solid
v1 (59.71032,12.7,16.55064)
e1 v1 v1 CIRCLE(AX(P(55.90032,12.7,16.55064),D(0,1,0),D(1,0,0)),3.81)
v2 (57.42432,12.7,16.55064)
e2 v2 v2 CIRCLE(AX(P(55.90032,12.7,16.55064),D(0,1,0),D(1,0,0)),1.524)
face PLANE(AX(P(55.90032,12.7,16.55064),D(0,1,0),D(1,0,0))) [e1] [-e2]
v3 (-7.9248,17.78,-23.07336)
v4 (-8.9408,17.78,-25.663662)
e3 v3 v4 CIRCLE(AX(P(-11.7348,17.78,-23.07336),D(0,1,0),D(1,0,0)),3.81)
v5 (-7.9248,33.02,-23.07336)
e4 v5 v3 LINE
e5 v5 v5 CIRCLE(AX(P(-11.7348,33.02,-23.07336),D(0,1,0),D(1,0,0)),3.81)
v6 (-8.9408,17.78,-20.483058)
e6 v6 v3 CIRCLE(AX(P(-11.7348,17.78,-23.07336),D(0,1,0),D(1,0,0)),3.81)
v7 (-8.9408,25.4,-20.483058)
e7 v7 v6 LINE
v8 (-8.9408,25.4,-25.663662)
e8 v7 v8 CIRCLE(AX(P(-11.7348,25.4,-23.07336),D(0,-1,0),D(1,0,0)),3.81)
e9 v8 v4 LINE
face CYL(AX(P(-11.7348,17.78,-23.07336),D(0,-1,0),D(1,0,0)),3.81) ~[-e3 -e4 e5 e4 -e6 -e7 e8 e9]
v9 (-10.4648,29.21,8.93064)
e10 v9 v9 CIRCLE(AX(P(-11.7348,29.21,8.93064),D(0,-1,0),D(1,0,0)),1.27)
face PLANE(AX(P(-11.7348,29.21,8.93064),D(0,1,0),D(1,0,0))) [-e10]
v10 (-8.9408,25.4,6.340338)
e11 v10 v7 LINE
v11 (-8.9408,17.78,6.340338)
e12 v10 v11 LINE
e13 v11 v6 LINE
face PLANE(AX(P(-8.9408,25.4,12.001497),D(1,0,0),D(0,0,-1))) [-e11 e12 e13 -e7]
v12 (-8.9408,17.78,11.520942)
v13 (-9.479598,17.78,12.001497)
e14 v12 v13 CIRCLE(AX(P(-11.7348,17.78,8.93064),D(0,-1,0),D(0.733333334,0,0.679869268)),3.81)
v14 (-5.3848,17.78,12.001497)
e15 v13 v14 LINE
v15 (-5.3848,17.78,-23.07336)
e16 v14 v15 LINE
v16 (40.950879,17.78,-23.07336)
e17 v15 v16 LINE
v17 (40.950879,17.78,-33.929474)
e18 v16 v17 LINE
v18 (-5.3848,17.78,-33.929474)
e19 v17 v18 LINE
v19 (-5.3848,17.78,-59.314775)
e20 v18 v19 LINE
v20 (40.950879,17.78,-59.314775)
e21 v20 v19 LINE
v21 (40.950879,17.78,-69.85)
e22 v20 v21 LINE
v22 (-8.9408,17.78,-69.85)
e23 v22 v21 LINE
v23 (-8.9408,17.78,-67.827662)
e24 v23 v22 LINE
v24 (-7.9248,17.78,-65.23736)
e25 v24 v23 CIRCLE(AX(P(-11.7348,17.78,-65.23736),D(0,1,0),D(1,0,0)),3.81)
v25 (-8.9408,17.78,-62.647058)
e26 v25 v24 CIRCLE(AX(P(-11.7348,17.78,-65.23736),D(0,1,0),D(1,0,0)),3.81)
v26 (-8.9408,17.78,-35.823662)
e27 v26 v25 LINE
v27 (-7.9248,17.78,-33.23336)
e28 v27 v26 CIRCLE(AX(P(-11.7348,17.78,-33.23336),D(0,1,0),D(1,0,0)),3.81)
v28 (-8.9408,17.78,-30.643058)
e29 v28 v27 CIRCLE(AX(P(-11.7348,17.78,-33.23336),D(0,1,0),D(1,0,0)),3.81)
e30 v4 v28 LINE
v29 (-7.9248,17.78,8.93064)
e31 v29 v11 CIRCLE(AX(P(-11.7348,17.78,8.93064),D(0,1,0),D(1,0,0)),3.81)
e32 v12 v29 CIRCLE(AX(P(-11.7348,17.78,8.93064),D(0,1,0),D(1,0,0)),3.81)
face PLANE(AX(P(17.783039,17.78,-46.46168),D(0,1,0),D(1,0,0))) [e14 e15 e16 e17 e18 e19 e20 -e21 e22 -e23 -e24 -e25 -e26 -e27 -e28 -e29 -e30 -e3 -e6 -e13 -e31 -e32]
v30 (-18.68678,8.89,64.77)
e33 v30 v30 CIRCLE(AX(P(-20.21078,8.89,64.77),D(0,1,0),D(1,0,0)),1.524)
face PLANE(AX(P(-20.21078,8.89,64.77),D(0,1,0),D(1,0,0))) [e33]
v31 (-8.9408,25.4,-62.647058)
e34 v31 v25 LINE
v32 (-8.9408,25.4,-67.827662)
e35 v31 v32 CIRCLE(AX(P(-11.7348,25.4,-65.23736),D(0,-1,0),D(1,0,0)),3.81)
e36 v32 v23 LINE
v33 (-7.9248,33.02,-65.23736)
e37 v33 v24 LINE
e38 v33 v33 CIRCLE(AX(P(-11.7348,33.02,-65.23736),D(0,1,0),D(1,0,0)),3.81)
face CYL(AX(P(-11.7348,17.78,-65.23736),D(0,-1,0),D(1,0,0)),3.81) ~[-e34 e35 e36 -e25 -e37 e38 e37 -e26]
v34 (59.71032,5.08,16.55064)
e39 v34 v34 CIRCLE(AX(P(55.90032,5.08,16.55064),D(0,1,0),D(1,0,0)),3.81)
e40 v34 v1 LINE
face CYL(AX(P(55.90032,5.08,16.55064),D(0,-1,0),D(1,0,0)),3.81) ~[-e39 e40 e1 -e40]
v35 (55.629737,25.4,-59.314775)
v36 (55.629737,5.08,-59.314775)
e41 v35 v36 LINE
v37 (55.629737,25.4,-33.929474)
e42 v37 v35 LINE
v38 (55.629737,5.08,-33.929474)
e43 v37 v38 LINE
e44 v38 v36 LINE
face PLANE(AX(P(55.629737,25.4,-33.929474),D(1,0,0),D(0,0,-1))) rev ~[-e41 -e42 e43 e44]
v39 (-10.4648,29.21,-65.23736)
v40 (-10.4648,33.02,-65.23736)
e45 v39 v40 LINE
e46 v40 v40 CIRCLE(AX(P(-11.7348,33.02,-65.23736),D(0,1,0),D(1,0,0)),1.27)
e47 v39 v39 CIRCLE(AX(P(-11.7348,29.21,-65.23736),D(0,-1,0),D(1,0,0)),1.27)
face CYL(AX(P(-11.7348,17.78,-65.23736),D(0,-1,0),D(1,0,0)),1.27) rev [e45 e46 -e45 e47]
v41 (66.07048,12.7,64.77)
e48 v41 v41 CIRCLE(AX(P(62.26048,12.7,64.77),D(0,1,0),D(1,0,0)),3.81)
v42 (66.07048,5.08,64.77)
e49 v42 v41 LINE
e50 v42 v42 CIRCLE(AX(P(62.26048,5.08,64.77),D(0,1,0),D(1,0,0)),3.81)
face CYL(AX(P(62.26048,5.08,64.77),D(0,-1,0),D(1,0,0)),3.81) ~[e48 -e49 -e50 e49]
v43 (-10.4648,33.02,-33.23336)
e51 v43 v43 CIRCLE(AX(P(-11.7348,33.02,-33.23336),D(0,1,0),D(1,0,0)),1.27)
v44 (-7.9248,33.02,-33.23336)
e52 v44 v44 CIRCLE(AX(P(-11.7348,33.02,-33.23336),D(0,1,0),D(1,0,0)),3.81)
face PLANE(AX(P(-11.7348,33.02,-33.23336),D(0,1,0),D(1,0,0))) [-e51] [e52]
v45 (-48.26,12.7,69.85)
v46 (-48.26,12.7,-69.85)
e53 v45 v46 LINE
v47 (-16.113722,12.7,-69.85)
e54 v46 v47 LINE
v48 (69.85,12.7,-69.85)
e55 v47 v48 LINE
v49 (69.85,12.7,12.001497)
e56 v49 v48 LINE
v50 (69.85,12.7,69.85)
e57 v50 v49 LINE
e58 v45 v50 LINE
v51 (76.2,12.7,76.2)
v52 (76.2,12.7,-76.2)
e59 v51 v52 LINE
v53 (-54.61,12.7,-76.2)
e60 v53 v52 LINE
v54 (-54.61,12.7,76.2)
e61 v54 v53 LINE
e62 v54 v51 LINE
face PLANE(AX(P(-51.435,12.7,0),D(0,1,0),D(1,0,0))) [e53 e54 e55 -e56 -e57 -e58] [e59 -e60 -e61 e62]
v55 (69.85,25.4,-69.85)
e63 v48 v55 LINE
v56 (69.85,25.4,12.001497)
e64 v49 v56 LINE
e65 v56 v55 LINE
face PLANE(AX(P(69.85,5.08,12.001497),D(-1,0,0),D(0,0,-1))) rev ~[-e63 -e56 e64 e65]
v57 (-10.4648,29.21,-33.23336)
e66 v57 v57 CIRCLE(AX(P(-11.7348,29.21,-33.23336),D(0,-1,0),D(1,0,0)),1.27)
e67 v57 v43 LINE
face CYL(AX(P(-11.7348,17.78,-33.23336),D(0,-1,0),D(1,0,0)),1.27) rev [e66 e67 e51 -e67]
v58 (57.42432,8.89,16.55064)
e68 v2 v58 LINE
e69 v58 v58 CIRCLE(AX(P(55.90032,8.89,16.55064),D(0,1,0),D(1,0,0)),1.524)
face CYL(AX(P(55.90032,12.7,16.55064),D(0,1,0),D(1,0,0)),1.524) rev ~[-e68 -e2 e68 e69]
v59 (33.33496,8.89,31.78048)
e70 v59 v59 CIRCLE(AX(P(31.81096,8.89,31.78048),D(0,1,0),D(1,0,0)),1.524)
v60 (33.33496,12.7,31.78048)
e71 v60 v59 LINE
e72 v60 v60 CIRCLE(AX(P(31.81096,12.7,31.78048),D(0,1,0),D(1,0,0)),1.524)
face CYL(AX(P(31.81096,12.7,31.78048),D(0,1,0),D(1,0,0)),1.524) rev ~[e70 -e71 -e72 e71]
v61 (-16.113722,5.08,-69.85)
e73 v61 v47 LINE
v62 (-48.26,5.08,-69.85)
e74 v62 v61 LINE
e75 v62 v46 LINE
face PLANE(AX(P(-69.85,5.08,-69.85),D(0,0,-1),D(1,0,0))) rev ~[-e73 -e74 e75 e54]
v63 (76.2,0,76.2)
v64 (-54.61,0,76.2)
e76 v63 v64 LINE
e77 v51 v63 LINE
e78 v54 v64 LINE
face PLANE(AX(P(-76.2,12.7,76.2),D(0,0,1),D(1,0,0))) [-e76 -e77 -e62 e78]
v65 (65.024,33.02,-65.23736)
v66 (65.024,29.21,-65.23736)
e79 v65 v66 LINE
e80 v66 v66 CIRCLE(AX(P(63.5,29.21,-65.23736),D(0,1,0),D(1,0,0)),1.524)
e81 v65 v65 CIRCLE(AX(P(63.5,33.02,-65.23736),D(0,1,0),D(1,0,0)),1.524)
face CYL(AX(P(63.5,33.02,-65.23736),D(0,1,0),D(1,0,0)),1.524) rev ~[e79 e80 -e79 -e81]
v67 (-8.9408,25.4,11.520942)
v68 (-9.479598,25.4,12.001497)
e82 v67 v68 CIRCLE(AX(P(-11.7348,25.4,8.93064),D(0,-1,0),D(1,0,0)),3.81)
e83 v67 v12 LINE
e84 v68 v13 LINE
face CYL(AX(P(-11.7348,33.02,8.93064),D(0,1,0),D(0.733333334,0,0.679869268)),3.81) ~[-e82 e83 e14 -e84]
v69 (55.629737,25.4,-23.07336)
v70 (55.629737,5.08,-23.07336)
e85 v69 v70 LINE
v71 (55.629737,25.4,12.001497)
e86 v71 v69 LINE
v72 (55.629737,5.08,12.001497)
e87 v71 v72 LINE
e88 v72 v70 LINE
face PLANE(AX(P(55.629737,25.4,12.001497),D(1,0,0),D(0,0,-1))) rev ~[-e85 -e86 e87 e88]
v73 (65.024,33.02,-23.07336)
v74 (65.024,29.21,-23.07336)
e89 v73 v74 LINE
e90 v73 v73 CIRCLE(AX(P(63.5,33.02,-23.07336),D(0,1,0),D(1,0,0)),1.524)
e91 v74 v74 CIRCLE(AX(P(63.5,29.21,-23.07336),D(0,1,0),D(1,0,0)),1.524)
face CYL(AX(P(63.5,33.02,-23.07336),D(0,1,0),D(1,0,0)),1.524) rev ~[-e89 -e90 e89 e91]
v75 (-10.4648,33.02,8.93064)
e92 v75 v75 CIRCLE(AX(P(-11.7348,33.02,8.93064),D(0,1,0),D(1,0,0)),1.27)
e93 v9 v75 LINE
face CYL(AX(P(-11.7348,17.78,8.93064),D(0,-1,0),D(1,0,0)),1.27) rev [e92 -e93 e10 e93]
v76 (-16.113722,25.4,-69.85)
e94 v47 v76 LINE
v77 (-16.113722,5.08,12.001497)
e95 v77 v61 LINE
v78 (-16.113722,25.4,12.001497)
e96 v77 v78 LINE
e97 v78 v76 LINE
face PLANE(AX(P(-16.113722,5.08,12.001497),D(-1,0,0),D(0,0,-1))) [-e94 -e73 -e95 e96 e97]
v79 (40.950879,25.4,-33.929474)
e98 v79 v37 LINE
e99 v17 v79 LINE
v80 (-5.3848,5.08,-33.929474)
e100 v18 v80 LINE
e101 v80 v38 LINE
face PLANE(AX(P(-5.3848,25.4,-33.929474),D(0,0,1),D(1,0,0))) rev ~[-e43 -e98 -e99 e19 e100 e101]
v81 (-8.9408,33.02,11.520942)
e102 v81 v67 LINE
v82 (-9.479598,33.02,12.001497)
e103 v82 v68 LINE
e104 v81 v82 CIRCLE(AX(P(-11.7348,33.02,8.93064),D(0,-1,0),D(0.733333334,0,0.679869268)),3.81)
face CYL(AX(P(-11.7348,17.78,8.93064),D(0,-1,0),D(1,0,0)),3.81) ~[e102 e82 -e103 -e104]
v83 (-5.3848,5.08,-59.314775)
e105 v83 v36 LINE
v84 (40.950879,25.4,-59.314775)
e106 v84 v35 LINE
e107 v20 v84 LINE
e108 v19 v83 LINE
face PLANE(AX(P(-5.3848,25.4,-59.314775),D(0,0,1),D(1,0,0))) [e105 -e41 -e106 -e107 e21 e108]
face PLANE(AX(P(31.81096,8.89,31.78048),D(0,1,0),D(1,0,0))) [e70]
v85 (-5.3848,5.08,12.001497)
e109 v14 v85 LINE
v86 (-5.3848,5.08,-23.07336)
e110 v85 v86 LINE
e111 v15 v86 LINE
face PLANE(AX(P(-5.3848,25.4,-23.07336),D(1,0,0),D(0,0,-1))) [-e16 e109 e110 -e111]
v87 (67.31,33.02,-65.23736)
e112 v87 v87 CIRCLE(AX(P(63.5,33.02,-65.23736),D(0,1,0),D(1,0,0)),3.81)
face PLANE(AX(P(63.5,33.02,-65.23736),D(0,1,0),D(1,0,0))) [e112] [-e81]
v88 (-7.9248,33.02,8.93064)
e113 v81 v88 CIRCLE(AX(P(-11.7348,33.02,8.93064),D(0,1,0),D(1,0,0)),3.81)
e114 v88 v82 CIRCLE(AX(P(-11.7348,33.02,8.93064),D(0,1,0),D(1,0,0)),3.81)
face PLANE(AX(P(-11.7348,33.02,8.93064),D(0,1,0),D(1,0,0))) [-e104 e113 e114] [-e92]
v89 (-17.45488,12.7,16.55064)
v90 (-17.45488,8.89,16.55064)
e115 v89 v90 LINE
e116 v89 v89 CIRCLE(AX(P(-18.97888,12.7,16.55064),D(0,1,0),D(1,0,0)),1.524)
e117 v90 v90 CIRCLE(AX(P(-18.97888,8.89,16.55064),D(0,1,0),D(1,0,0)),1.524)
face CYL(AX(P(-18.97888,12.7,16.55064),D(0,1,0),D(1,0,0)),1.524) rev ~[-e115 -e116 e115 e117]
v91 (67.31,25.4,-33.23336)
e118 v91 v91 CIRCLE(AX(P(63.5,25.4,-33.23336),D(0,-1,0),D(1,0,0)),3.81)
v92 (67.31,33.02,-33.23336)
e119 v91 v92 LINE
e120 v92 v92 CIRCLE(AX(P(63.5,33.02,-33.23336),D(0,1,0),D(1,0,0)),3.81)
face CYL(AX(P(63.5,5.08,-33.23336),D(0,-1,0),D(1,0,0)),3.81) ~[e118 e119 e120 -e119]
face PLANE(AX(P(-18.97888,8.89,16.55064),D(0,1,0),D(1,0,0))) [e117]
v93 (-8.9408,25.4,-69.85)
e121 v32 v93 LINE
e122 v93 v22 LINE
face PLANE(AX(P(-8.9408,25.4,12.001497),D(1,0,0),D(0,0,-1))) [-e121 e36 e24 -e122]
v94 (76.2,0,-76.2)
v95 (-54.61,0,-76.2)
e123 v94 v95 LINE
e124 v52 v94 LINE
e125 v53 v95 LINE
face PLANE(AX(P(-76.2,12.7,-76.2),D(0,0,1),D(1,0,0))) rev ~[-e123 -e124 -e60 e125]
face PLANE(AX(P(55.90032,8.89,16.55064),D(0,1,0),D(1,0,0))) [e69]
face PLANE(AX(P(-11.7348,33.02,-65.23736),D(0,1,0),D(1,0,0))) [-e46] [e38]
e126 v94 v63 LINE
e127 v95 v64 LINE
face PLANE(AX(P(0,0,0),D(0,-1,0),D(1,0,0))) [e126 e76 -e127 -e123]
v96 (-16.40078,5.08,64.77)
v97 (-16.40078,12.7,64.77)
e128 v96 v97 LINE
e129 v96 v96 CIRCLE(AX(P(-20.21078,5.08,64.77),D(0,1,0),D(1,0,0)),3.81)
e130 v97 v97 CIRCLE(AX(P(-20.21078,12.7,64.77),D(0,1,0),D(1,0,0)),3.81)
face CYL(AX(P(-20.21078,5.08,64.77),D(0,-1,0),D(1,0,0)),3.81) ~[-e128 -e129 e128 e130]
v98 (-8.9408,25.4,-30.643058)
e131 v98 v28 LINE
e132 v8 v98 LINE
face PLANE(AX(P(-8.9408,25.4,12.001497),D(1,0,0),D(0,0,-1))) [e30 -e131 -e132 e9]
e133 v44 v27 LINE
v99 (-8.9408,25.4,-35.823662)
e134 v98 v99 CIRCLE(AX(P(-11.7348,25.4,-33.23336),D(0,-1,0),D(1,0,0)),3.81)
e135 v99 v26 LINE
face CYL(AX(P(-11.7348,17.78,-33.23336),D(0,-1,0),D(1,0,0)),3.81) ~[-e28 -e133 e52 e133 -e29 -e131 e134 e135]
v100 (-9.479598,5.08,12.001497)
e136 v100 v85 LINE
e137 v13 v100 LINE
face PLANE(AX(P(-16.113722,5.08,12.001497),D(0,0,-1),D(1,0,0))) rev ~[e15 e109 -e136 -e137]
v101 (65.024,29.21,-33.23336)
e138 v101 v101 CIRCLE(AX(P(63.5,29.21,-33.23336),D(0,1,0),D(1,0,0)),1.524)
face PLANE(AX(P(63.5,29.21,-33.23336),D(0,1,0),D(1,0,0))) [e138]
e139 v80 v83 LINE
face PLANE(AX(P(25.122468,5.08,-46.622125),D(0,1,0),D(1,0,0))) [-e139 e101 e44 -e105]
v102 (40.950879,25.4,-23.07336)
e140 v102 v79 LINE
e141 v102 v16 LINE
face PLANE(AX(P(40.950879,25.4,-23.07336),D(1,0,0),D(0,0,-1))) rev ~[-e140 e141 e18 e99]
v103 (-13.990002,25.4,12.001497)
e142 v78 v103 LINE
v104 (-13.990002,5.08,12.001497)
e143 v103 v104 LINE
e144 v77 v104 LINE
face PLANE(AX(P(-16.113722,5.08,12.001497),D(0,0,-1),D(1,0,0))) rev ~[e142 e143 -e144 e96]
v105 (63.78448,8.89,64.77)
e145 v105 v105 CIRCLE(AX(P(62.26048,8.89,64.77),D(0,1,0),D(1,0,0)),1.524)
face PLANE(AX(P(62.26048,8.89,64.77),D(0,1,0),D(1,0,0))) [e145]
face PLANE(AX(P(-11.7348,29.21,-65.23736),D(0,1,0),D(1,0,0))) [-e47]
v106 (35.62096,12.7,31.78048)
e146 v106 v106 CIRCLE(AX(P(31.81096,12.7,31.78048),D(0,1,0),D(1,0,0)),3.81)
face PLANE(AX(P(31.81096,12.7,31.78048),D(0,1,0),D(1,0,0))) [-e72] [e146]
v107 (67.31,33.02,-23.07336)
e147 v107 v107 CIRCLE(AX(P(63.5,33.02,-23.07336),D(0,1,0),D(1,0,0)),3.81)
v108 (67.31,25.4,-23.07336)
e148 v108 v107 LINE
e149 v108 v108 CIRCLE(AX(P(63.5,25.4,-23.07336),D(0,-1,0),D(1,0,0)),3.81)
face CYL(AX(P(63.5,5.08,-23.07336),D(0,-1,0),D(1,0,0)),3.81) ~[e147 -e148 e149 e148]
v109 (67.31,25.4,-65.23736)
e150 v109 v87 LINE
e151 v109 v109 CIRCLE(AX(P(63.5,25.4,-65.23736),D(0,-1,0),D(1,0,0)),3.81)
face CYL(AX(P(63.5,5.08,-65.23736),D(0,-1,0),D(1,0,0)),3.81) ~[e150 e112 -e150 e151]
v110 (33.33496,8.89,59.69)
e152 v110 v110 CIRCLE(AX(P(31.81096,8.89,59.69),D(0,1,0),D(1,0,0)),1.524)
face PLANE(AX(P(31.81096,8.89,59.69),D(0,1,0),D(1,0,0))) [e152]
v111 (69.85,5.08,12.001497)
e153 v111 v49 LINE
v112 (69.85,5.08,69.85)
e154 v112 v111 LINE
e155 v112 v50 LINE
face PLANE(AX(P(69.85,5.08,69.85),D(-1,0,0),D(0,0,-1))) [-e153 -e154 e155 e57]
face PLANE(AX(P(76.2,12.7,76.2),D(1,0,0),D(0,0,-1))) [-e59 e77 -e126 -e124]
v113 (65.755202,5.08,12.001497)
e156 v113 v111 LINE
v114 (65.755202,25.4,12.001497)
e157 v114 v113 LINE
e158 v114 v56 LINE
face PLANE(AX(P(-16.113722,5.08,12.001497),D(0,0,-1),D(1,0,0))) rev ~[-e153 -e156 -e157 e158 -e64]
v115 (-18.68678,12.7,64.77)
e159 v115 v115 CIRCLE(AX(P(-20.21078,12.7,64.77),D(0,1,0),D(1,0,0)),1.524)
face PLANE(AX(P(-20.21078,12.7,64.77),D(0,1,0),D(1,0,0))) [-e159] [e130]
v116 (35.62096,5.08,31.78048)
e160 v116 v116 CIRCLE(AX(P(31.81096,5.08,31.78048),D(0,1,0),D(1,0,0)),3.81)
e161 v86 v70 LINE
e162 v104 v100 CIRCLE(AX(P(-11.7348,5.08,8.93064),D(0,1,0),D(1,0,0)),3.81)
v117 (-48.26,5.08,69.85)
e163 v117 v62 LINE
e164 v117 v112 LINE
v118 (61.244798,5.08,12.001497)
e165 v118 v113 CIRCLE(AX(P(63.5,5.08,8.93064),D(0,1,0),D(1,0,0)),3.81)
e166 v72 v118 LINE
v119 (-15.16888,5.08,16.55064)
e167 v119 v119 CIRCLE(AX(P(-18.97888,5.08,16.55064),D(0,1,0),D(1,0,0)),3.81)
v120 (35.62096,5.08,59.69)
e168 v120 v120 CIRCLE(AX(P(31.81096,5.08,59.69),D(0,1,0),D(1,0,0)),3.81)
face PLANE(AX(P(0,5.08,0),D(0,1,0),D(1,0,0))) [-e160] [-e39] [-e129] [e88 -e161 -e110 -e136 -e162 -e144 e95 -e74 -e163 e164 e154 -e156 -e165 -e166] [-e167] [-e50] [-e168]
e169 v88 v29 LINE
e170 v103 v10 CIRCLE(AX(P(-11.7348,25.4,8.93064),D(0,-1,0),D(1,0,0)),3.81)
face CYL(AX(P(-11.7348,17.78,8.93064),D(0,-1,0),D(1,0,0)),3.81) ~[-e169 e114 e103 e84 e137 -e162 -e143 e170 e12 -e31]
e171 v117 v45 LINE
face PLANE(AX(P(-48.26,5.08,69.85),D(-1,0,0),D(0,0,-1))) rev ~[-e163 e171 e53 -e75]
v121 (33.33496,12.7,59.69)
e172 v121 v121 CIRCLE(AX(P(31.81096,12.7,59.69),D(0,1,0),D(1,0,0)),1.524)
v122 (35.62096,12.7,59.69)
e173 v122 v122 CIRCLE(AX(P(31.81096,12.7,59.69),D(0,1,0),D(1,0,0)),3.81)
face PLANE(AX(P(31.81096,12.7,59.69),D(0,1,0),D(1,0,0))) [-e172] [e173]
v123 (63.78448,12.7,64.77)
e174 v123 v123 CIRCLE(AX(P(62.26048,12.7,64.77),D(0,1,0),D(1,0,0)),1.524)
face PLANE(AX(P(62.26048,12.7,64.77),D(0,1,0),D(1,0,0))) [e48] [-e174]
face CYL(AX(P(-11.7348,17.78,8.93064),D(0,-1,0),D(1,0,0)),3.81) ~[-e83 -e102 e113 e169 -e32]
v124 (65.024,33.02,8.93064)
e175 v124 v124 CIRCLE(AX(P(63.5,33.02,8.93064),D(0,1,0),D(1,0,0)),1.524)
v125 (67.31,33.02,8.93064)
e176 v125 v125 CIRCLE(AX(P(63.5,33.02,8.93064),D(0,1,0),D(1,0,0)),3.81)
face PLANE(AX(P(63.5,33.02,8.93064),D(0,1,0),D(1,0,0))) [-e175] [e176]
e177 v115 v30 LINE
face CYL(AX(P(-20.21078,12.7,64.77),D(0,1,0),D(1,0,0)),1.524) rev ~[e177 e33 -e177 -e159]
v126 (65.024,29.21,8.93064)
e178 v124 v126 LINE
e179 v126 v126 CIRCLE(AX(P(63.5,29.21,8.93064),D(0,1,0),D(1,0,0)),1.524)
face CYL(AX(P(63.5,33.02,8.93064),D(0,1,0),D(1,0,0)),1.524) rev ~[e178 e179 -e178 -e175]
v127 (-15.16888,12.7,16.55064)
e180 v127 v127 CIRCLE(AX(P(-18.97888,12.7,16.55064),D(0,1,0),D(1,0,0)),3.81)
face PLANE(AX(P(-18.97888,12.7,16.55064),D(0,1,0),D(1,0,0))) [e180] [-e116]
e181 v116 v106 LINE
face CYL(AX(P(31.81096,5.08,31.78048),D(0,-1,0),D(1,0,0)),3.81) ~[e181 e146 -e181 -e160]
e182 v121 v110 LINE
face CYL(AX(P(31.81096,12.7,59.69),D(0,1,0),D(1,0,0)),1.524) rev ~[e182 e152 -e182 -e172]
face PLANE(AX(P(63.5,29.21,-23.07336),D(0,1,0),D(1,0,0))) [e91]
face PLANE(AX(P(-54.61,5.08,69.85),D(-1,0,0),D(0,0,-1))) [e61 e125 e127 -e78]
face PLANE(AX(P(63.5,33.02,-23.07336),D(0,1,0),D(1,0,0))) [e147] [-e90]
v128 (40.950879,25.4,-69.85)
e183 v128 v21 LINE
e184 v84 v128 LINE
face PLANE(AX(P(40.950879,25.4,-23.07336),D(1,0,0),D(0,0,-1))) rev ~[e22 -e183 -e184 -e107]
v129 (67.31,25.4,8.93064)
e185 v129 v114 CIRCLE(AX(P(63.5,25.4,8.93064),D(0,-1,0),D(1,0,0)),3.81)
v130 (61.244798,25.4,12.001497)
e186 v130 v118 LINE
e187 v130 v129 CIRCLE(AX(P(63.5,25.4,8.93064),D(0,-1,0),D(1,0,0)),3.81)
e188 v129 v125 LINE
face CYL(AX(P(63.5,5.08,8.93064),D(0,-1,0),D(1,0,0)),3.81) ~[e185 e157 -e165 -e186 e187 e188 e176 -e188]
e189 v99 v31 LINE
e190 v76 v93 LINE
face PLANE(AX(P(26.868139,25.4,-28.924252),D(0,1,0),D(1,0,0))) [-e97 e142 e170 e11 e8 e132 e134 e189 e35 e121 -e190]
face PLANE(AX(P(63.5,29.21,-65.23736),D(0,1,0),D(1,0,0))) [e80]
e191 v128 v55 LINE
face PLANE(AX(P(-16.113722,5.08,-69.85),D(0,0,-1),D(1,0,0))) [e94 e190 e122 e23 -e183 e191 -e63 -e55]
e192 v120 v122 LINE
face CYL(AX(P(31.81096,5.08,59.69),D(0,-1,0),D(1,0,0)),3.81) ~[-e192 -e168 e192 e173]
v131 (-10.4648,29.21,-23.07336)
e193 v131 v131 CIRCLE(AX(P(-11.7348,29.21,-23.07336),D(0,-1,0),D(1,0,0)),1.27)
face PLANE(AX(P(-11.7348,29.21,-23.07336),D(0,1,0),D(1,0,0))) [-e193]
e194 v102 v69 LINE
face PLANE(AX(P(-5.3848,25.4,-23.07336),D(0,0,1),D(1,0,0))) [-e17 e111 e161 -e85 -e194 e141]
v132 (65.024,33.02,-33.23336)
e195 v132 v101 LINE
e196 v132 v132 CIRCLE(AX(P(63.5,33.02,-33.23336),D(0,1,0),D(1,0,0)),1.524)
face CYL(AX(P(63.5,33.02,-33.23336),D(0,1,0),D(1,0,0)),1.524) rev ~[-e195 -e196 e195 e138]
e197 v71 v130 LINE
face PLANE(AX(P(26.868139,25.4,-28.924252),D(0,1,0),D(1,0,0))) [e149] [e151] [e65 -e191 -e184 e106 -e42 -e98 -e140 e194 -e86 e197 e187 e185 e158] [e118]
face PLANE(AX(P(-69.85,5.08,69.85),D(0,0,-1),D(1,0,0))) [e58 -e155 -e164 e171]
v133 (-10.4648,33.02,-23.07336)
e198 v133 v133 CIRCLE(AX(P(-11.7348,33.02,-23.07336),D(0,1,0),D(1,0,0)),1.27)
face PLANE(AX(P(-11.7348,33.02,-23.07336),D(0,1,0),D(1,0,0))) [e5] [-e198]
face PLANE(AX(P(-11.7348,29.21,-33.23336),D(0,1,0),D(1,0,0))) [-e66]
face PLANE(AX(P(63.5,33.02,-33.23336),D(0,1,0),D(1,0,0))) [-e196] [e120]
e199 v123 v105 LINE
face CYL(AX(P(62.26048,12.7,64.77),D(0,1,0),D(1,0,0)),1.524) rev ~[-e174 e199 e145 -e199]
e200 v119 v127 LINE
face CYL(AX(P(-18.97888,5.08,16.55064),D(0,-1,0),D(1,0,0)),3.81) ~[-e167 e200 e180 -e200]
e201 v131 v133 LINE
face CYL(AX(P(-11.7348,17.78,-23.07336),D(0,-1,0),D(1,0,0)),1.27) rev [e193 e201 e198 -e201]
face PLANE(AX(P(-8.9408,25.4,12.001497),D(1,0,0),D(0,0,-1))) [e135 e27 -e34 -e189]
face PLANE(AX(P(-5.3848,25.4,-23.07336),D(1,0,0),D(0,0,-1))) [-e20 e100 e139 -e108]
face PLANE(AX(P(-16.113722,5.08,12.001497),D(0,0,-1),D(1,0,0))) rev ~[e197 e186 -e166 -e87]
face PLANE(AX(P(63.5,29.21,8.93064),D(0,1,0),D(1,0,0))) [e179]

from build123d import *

# Parameters (mm, degrees)
SKETCH1_W            = 152.4
SKETCH1_H            = 152.4
BOSS_EXTRUDE1_DEPTH  = 5.08
SKETCH6_R            = 3.81
BOSS_EXTRUDE3_DEPTH  = 7.62
SKETCH7_W            = 152.4
SKETCH7_H            = 152.4
SKETCH7_W_2          = 139.7
SKETCH7_H_2          = 139.7
BOSS_EXTRUDE4_DEPTH  = 7.62
SKETCH9_R            = 3.81
BOSS_EXTRUDE6_DEPTH  = 27.94
SKETCH11_W           = 85.963722039
SKETCH11_H           = 81.851496928
BOSS_EXTRUDE9_DEPTH  = 20.32
SKETCH12_W           = 61.01453669
SKETCH12_H           = 25.385301209
SKETCH12_H_2         = 35.074856928
CUT_EXTRUDE1_DEPTH   = 20.32
SKETCH14_W           = 46.335678953
SKETCH14_H           = 46.77664
CUT_EXTRUDE2_DEPTH   = 7.62
SKETCH15_R           = 1.524
CUT_EXTRUDE3_DEPTH   = 3.81
SKETCH16_R           = 1.524
CUT_EXTRUDE4_DEPTH   = 3.81
BOSS_EXTRUDE10_START = -12.7
SKETCH18_W           = 165.1
SKETCH18_H           = 165.1
SKETCH18_W_2         = 152.4
SKETCH18_H_2         = 152.4
BOSS_EXTRUDE10_DEPTH = 12.7
SKETCH22_W           = 195.571726543
SKETCH22_H           = 199.98311887
SKETCH22_W_2         = 152.4
SKETCH22_H_2         = 152.4
CUT_EXTRUDE5_DEPTH   = 13.7
SKETCH24_W           = 21.59
SKETCH24_H           = 152.4
CUT_EXTRUDE6_DEPTH   = 13.7
SKETCH25_W           = 6.35
SKETCH25_H           = 139.7
BOSS_EXTRUDE11_DEPTH = 7.62
SKETCH26_W           = 3.556
SKETCH26_H           = 81.851496928
CUT_EXTRUDE7_DEPTH   = 7.62
BOSS_EXTRUDE12_START = -15.24
SKETCH28_R           = 3.81
SKETCH28_R_2         = 1.27
BOSS_EXTRUDE12_DEPTH = 15.24
CUT_EXTRUDE8_DEPTH   = 15.24


with BuildPart() as part:
    # Sketch1 → Boss-Extrude1 (new body)
    with BuildSketch(Plane(origin=(0, 0, 0), x_dir=(1, 0, 0), z_dir=(0, 1, 0))):
        Rectangle(SKETCH1_W, SKETCH1_H)
    extrude(amount=BOSS_EXTRUDE1_DEPTH)

    # Sketch6 → Boss-Extrude3 (add)
    with BuildSketch(Plane(origin=(0, 5.08, 0), x_dir=(1, 0, 0), z_dir=(0, 1, 0))):
        with Locations((62.26048, -64.77)):
            Circle(SKETCH6_R)
        with Locations((-20.21078, -64.77)):
            Circle(SKETCH6_R)
        with Locations((31.81096, -59.69)):
            Circle(SKETCH6_R)
        with Locations((31.81096, -31.78048)):
            Circle(SKETCH6_R)
        with Locations((55.90032, -16.55064)):
            Circle(SKETCH6_R)
        with Locations((-18.97888, -16.55064)):
            Circle(SKETCH6_R)
    extrude(amount=BOSS_EXTRUDE3_DEPTH)

    # Sketch7 → Boss-Extrude4 (add)
    with BuildSketch(Plane(origin=(0, 5.08, 0), x_dir=(1, 0, 0), z_dir=(0, 1, 0))):
        Rectangle(SKETCH7_W, SKETCH7_H)
        Rectangle(SKETCH7_W_2, SKETCH7_H_2, mode=Mode.SUBTRACT)
    extrude(amount=BOSS_EXTRUDE4_DEPTH)

    # Sketch9 → Boss-Extrude6 (add)
    with BuildSketch(Plane(origin=(0, 5.08, 0), x_dir=(1, 0, 0), z_dir=(0, 1, 0))):
        with Locations((63.5, -8.93064)):
            Circle(SKETCH9_R)
        with Locations((-11.7348, -8.93064)):
            Circle(SKETCH9_R)
        with Locations((63.5, 23.07336)):
            Circle(SKETCH9_R)
        with Locations((-11.7348, 23.07336)):
            Circle(SKETCH9_R)
        with Locations((-11.7348, 33.23336)):
            Circle(SKETCH9_R)
        with Locations((63.5, 33.23336)):
            Circle(SKETCH9_R)
        with Locations((63.5, 65.23736)):
            Circle(SKETCH9_R)
        with Locations((-11.7348, 65.23736)):
            Circle(SKETCH9_R)
    extrude(amount=BOSS_EXTRUDE6_DEPTH)

    # Sketch11 → Boss-Extrude9 (add)
    with BuildSketch(Plane(origin=(0, 5.08, 0), x_dir=(1, 0, 0), z_dir=(0, 1, 0))):
        with Locations((26.868138981, 28.924251536)):
            Rectangle(SKETCH11_W, SKETCH11_H)
    extrude(amount=BOSS_EXTRUDE9_DEPTH)

    # Sketch12 → Cut-Extrude1 (cut)
    with BuildSketch(Plane(origin=(0, 25.4, 0), x_dir=(1, 0, 0), z_dir=(0, 1, 0))):
        with Locations((25.122468345, 46.622124643)):
            Rectangle(SKETCH12_W, SKETCH12_H)
        with Locations((25.122468345, 5.535931536)):
            Rectangle(SKETCH12_W, SKETCH12_H_2)
    extrude(amount=-CUT_EXTRUDE1_DEPTH, mode=Mode.SUBTRACT)

    # Sketch14 → Cut-Extrude2 (cut)
    with BuildSketch(Plane(origin=(0, 25.4, 0), x_dir=(1, 0, 0), z_dir=(0, 1, 0))):
        with Locations((17.783039477, 46.46168)):
            Rectangle(SKETCH14_W, SKETCH14_H)
    extrude(amount=-CUT_EXTRUDE2_DEPTH, mode=Mode.SUBTRACT)

    # Sketch15 → Cut-Extrude3 (cut)
    with BuildSketch(Plane(origin=(0, 12.7, 0), x_dir=(1, 0, 0), z_dir=(0, 1, 0))):
        with Locations((-18.97888, -16.55064)):
            Circle(SKETCH15_R)
        with Locations((31.81096, -31.78048)):
            Circle(SKETCH15_R)
        with Locations((55.90032, -16.55064)):
            Circle(SKETCH15_R)
        with Locations((62.26048, -64.77)):
            Circle(SKETCH15_R)
        with Locations((31.81096, -59.69)):
            Circle(SKETCH15_R)
        with Locations((-20.21078, -64.77)):
            Circle(SKETCH15_R)
    extrude(amount=-CUT_EXTRUDE3_DEPTH, mode=Mode.SUBTRACT)

    # Sketch16 → Cut-Extrude4 (cut)
    with BuildSketch(Plane(origin=(0, 33.02, 0), x_dir=(1, 0, 0), z_dir=(0, 1, 0))):
        with Locations((63.5, 65.23736)):
            Circle(SKETCH16_R)
        with Locations((63.5, 33.23336)):
            Circle(SKETCH16_R)
        with Locations((63.5, 23.07336)):
            Circle(SKETCH16_R)
        with Locations((63.5, -8.93064)):
            Circle(SKETCH16_R)
        with Locations((-11.7348, -8.93064)):
            Circle(SKETCH16_R)
        with Locations((-11.7348, 23.07336)):
            Circle(SKETCH16_R)
        with Locations((-11.7348, 33.23336)):
            Circle(SKETCH16_R)
        with Locations((-11.7348, 65.23736)):
            Circle(SKETCH16_R)
    extrude(amount=-CUT_EXTRUDE4_DEPTH, mode=Mode.SUBTRACT)

    # Sketch18 → Boss-Extrude10 (add)
    with BuildSketch(Plane.XZ.offset(BOSS_EXTRUDE10_START)):
        Rectangle(SKETCH18_W, SKETCH18_H)
        Rectangle(SKETCH18_W_2, SKETCH18_H_2, mode=Mode.SUBTRACT)
    extrude(amount=BOSS_EXTRUDE10_DEPTH)

    # Sketch22 → Cut-Extrude5 (cut, through all)
    with BuildSketch(Plane(origin=(0, 12.7, 0), x_dir=(1, 0, 0), z_dir=(0, 1, 0))):
        with Locations((-3.578752524, -2.666785406)):
            Rectangle(SKETCH22_W, SKETCH22_H)
        Rectangle(SKETCH22_W_2, SKETCH22_H_2, mode=Mode.SUBTRACT)
    extrude(amount=-CUT_EXTRUDE5_DEPTH, mode=Mode.SUBTRACT)

    # Sketch24 → Cut-Extrude6 (cut, through all)
    with BuildSketch(Plane(origin=(0, 12.7, 0), x_dir=(1, 0, 0), z_dir=(0, 1, 0))):
        with Locations((-65.405, 0)):
            Rectangle(SKETCH24_W, SKETCH24_H)
    extrude(amount=-CUT_EXTRUDE6_DEPTH, mode=Mode.SUBTRACT)

    # Sketch25 → Boss-Extrude11 (add)
    with BuildSketch(Plane(origin=(0, 5.08, 0), x_dir=(1, 0, 0), z_dir=(0, 1, 0))):
        with Locations((-51.435, 0)):
            Rectangle(SKETCH25_W, SKETCH25_H)
    extrude(amount=BOSS_EXTRUDE11_DEPTH)

    # Sketch26 → Cut-Extrude7 (cut)
    with BuildSketch(Plane(origin=(0, 25.4, 0), x_dir=(1, 0, 0), z_dir=(0, 1, 0))):
        with Locations((-7.1628, 28.924251536)):
            Rectangle(SKETCH26_W, SKETCH26_H)
    extrude(amount=-CUT_EXTRUDE7_DEPTH, mode=Mode.SUBTRACT)

    # Sketch28 → Boss-Extrude12 (add)
    with BuildSketch(Plane(origin=(0, 33.02, 0), x_dir=(1, 0, 0), z_dir=(0, 1, 0)).offset(BOSS_EXTRUDE12_START)):
        with Locations((-11.7348, 65.23736)):
            Circle(SKETCH28_R)
        with Locations((-11.7348, 65.23736)):
            Circle(SKETCH28_R_2, mode=Mode.SUBTRACT)
        with Locations((-11.7348, 33.23336)):
            Circle(SKETCH28_R)
        with Locations((-11.7348, 33.23336)):
            Circle(SKETCH28_R_2, mode=Mode.SUBTRACT)
        with Locations((-11.7348, 23.07336)):
            Circle(SKETCH28_R)
        with Locations((-11.7348, 23.07336)):
            Circle(SKETCH28_R_2, mode=Mode.SUBTRACT)
        with Locations((-11.7348, -8.93064)):
            Circle(SKETCH28_R)
        with Locations((-11.7348, -8.93064)):
            Circle(SKETCH28_R_2, mode=Mode.SUBTRACT)
    extrude(amount=BOSS_EXTRUDE12_DEPTH)

    # Sketch29 → Cut-Extrude8 (cut)
    with BuildSketch(Plane(origin=(0, 33.02, 0), x_dir=(1, 0, 0), z_dir=(0, 1, 0))):
        with BuildLine():
            Line((-8.9408, -12.001496928), (-8.9408, -11.520941913))
            ThreePointArc((-8.9408, -11.520941913), (-9.198790453, -11.774010461), (-9.479597631, -12.001496928))
            Line((-9.479597631, -12.001496928), (-8.9408, -12.001496928))
        make_face()
    extrude(amount=-CUT_EXTRUDE8_DEPTH, mode=Mode.SUBTRACT)


solid = part.part
